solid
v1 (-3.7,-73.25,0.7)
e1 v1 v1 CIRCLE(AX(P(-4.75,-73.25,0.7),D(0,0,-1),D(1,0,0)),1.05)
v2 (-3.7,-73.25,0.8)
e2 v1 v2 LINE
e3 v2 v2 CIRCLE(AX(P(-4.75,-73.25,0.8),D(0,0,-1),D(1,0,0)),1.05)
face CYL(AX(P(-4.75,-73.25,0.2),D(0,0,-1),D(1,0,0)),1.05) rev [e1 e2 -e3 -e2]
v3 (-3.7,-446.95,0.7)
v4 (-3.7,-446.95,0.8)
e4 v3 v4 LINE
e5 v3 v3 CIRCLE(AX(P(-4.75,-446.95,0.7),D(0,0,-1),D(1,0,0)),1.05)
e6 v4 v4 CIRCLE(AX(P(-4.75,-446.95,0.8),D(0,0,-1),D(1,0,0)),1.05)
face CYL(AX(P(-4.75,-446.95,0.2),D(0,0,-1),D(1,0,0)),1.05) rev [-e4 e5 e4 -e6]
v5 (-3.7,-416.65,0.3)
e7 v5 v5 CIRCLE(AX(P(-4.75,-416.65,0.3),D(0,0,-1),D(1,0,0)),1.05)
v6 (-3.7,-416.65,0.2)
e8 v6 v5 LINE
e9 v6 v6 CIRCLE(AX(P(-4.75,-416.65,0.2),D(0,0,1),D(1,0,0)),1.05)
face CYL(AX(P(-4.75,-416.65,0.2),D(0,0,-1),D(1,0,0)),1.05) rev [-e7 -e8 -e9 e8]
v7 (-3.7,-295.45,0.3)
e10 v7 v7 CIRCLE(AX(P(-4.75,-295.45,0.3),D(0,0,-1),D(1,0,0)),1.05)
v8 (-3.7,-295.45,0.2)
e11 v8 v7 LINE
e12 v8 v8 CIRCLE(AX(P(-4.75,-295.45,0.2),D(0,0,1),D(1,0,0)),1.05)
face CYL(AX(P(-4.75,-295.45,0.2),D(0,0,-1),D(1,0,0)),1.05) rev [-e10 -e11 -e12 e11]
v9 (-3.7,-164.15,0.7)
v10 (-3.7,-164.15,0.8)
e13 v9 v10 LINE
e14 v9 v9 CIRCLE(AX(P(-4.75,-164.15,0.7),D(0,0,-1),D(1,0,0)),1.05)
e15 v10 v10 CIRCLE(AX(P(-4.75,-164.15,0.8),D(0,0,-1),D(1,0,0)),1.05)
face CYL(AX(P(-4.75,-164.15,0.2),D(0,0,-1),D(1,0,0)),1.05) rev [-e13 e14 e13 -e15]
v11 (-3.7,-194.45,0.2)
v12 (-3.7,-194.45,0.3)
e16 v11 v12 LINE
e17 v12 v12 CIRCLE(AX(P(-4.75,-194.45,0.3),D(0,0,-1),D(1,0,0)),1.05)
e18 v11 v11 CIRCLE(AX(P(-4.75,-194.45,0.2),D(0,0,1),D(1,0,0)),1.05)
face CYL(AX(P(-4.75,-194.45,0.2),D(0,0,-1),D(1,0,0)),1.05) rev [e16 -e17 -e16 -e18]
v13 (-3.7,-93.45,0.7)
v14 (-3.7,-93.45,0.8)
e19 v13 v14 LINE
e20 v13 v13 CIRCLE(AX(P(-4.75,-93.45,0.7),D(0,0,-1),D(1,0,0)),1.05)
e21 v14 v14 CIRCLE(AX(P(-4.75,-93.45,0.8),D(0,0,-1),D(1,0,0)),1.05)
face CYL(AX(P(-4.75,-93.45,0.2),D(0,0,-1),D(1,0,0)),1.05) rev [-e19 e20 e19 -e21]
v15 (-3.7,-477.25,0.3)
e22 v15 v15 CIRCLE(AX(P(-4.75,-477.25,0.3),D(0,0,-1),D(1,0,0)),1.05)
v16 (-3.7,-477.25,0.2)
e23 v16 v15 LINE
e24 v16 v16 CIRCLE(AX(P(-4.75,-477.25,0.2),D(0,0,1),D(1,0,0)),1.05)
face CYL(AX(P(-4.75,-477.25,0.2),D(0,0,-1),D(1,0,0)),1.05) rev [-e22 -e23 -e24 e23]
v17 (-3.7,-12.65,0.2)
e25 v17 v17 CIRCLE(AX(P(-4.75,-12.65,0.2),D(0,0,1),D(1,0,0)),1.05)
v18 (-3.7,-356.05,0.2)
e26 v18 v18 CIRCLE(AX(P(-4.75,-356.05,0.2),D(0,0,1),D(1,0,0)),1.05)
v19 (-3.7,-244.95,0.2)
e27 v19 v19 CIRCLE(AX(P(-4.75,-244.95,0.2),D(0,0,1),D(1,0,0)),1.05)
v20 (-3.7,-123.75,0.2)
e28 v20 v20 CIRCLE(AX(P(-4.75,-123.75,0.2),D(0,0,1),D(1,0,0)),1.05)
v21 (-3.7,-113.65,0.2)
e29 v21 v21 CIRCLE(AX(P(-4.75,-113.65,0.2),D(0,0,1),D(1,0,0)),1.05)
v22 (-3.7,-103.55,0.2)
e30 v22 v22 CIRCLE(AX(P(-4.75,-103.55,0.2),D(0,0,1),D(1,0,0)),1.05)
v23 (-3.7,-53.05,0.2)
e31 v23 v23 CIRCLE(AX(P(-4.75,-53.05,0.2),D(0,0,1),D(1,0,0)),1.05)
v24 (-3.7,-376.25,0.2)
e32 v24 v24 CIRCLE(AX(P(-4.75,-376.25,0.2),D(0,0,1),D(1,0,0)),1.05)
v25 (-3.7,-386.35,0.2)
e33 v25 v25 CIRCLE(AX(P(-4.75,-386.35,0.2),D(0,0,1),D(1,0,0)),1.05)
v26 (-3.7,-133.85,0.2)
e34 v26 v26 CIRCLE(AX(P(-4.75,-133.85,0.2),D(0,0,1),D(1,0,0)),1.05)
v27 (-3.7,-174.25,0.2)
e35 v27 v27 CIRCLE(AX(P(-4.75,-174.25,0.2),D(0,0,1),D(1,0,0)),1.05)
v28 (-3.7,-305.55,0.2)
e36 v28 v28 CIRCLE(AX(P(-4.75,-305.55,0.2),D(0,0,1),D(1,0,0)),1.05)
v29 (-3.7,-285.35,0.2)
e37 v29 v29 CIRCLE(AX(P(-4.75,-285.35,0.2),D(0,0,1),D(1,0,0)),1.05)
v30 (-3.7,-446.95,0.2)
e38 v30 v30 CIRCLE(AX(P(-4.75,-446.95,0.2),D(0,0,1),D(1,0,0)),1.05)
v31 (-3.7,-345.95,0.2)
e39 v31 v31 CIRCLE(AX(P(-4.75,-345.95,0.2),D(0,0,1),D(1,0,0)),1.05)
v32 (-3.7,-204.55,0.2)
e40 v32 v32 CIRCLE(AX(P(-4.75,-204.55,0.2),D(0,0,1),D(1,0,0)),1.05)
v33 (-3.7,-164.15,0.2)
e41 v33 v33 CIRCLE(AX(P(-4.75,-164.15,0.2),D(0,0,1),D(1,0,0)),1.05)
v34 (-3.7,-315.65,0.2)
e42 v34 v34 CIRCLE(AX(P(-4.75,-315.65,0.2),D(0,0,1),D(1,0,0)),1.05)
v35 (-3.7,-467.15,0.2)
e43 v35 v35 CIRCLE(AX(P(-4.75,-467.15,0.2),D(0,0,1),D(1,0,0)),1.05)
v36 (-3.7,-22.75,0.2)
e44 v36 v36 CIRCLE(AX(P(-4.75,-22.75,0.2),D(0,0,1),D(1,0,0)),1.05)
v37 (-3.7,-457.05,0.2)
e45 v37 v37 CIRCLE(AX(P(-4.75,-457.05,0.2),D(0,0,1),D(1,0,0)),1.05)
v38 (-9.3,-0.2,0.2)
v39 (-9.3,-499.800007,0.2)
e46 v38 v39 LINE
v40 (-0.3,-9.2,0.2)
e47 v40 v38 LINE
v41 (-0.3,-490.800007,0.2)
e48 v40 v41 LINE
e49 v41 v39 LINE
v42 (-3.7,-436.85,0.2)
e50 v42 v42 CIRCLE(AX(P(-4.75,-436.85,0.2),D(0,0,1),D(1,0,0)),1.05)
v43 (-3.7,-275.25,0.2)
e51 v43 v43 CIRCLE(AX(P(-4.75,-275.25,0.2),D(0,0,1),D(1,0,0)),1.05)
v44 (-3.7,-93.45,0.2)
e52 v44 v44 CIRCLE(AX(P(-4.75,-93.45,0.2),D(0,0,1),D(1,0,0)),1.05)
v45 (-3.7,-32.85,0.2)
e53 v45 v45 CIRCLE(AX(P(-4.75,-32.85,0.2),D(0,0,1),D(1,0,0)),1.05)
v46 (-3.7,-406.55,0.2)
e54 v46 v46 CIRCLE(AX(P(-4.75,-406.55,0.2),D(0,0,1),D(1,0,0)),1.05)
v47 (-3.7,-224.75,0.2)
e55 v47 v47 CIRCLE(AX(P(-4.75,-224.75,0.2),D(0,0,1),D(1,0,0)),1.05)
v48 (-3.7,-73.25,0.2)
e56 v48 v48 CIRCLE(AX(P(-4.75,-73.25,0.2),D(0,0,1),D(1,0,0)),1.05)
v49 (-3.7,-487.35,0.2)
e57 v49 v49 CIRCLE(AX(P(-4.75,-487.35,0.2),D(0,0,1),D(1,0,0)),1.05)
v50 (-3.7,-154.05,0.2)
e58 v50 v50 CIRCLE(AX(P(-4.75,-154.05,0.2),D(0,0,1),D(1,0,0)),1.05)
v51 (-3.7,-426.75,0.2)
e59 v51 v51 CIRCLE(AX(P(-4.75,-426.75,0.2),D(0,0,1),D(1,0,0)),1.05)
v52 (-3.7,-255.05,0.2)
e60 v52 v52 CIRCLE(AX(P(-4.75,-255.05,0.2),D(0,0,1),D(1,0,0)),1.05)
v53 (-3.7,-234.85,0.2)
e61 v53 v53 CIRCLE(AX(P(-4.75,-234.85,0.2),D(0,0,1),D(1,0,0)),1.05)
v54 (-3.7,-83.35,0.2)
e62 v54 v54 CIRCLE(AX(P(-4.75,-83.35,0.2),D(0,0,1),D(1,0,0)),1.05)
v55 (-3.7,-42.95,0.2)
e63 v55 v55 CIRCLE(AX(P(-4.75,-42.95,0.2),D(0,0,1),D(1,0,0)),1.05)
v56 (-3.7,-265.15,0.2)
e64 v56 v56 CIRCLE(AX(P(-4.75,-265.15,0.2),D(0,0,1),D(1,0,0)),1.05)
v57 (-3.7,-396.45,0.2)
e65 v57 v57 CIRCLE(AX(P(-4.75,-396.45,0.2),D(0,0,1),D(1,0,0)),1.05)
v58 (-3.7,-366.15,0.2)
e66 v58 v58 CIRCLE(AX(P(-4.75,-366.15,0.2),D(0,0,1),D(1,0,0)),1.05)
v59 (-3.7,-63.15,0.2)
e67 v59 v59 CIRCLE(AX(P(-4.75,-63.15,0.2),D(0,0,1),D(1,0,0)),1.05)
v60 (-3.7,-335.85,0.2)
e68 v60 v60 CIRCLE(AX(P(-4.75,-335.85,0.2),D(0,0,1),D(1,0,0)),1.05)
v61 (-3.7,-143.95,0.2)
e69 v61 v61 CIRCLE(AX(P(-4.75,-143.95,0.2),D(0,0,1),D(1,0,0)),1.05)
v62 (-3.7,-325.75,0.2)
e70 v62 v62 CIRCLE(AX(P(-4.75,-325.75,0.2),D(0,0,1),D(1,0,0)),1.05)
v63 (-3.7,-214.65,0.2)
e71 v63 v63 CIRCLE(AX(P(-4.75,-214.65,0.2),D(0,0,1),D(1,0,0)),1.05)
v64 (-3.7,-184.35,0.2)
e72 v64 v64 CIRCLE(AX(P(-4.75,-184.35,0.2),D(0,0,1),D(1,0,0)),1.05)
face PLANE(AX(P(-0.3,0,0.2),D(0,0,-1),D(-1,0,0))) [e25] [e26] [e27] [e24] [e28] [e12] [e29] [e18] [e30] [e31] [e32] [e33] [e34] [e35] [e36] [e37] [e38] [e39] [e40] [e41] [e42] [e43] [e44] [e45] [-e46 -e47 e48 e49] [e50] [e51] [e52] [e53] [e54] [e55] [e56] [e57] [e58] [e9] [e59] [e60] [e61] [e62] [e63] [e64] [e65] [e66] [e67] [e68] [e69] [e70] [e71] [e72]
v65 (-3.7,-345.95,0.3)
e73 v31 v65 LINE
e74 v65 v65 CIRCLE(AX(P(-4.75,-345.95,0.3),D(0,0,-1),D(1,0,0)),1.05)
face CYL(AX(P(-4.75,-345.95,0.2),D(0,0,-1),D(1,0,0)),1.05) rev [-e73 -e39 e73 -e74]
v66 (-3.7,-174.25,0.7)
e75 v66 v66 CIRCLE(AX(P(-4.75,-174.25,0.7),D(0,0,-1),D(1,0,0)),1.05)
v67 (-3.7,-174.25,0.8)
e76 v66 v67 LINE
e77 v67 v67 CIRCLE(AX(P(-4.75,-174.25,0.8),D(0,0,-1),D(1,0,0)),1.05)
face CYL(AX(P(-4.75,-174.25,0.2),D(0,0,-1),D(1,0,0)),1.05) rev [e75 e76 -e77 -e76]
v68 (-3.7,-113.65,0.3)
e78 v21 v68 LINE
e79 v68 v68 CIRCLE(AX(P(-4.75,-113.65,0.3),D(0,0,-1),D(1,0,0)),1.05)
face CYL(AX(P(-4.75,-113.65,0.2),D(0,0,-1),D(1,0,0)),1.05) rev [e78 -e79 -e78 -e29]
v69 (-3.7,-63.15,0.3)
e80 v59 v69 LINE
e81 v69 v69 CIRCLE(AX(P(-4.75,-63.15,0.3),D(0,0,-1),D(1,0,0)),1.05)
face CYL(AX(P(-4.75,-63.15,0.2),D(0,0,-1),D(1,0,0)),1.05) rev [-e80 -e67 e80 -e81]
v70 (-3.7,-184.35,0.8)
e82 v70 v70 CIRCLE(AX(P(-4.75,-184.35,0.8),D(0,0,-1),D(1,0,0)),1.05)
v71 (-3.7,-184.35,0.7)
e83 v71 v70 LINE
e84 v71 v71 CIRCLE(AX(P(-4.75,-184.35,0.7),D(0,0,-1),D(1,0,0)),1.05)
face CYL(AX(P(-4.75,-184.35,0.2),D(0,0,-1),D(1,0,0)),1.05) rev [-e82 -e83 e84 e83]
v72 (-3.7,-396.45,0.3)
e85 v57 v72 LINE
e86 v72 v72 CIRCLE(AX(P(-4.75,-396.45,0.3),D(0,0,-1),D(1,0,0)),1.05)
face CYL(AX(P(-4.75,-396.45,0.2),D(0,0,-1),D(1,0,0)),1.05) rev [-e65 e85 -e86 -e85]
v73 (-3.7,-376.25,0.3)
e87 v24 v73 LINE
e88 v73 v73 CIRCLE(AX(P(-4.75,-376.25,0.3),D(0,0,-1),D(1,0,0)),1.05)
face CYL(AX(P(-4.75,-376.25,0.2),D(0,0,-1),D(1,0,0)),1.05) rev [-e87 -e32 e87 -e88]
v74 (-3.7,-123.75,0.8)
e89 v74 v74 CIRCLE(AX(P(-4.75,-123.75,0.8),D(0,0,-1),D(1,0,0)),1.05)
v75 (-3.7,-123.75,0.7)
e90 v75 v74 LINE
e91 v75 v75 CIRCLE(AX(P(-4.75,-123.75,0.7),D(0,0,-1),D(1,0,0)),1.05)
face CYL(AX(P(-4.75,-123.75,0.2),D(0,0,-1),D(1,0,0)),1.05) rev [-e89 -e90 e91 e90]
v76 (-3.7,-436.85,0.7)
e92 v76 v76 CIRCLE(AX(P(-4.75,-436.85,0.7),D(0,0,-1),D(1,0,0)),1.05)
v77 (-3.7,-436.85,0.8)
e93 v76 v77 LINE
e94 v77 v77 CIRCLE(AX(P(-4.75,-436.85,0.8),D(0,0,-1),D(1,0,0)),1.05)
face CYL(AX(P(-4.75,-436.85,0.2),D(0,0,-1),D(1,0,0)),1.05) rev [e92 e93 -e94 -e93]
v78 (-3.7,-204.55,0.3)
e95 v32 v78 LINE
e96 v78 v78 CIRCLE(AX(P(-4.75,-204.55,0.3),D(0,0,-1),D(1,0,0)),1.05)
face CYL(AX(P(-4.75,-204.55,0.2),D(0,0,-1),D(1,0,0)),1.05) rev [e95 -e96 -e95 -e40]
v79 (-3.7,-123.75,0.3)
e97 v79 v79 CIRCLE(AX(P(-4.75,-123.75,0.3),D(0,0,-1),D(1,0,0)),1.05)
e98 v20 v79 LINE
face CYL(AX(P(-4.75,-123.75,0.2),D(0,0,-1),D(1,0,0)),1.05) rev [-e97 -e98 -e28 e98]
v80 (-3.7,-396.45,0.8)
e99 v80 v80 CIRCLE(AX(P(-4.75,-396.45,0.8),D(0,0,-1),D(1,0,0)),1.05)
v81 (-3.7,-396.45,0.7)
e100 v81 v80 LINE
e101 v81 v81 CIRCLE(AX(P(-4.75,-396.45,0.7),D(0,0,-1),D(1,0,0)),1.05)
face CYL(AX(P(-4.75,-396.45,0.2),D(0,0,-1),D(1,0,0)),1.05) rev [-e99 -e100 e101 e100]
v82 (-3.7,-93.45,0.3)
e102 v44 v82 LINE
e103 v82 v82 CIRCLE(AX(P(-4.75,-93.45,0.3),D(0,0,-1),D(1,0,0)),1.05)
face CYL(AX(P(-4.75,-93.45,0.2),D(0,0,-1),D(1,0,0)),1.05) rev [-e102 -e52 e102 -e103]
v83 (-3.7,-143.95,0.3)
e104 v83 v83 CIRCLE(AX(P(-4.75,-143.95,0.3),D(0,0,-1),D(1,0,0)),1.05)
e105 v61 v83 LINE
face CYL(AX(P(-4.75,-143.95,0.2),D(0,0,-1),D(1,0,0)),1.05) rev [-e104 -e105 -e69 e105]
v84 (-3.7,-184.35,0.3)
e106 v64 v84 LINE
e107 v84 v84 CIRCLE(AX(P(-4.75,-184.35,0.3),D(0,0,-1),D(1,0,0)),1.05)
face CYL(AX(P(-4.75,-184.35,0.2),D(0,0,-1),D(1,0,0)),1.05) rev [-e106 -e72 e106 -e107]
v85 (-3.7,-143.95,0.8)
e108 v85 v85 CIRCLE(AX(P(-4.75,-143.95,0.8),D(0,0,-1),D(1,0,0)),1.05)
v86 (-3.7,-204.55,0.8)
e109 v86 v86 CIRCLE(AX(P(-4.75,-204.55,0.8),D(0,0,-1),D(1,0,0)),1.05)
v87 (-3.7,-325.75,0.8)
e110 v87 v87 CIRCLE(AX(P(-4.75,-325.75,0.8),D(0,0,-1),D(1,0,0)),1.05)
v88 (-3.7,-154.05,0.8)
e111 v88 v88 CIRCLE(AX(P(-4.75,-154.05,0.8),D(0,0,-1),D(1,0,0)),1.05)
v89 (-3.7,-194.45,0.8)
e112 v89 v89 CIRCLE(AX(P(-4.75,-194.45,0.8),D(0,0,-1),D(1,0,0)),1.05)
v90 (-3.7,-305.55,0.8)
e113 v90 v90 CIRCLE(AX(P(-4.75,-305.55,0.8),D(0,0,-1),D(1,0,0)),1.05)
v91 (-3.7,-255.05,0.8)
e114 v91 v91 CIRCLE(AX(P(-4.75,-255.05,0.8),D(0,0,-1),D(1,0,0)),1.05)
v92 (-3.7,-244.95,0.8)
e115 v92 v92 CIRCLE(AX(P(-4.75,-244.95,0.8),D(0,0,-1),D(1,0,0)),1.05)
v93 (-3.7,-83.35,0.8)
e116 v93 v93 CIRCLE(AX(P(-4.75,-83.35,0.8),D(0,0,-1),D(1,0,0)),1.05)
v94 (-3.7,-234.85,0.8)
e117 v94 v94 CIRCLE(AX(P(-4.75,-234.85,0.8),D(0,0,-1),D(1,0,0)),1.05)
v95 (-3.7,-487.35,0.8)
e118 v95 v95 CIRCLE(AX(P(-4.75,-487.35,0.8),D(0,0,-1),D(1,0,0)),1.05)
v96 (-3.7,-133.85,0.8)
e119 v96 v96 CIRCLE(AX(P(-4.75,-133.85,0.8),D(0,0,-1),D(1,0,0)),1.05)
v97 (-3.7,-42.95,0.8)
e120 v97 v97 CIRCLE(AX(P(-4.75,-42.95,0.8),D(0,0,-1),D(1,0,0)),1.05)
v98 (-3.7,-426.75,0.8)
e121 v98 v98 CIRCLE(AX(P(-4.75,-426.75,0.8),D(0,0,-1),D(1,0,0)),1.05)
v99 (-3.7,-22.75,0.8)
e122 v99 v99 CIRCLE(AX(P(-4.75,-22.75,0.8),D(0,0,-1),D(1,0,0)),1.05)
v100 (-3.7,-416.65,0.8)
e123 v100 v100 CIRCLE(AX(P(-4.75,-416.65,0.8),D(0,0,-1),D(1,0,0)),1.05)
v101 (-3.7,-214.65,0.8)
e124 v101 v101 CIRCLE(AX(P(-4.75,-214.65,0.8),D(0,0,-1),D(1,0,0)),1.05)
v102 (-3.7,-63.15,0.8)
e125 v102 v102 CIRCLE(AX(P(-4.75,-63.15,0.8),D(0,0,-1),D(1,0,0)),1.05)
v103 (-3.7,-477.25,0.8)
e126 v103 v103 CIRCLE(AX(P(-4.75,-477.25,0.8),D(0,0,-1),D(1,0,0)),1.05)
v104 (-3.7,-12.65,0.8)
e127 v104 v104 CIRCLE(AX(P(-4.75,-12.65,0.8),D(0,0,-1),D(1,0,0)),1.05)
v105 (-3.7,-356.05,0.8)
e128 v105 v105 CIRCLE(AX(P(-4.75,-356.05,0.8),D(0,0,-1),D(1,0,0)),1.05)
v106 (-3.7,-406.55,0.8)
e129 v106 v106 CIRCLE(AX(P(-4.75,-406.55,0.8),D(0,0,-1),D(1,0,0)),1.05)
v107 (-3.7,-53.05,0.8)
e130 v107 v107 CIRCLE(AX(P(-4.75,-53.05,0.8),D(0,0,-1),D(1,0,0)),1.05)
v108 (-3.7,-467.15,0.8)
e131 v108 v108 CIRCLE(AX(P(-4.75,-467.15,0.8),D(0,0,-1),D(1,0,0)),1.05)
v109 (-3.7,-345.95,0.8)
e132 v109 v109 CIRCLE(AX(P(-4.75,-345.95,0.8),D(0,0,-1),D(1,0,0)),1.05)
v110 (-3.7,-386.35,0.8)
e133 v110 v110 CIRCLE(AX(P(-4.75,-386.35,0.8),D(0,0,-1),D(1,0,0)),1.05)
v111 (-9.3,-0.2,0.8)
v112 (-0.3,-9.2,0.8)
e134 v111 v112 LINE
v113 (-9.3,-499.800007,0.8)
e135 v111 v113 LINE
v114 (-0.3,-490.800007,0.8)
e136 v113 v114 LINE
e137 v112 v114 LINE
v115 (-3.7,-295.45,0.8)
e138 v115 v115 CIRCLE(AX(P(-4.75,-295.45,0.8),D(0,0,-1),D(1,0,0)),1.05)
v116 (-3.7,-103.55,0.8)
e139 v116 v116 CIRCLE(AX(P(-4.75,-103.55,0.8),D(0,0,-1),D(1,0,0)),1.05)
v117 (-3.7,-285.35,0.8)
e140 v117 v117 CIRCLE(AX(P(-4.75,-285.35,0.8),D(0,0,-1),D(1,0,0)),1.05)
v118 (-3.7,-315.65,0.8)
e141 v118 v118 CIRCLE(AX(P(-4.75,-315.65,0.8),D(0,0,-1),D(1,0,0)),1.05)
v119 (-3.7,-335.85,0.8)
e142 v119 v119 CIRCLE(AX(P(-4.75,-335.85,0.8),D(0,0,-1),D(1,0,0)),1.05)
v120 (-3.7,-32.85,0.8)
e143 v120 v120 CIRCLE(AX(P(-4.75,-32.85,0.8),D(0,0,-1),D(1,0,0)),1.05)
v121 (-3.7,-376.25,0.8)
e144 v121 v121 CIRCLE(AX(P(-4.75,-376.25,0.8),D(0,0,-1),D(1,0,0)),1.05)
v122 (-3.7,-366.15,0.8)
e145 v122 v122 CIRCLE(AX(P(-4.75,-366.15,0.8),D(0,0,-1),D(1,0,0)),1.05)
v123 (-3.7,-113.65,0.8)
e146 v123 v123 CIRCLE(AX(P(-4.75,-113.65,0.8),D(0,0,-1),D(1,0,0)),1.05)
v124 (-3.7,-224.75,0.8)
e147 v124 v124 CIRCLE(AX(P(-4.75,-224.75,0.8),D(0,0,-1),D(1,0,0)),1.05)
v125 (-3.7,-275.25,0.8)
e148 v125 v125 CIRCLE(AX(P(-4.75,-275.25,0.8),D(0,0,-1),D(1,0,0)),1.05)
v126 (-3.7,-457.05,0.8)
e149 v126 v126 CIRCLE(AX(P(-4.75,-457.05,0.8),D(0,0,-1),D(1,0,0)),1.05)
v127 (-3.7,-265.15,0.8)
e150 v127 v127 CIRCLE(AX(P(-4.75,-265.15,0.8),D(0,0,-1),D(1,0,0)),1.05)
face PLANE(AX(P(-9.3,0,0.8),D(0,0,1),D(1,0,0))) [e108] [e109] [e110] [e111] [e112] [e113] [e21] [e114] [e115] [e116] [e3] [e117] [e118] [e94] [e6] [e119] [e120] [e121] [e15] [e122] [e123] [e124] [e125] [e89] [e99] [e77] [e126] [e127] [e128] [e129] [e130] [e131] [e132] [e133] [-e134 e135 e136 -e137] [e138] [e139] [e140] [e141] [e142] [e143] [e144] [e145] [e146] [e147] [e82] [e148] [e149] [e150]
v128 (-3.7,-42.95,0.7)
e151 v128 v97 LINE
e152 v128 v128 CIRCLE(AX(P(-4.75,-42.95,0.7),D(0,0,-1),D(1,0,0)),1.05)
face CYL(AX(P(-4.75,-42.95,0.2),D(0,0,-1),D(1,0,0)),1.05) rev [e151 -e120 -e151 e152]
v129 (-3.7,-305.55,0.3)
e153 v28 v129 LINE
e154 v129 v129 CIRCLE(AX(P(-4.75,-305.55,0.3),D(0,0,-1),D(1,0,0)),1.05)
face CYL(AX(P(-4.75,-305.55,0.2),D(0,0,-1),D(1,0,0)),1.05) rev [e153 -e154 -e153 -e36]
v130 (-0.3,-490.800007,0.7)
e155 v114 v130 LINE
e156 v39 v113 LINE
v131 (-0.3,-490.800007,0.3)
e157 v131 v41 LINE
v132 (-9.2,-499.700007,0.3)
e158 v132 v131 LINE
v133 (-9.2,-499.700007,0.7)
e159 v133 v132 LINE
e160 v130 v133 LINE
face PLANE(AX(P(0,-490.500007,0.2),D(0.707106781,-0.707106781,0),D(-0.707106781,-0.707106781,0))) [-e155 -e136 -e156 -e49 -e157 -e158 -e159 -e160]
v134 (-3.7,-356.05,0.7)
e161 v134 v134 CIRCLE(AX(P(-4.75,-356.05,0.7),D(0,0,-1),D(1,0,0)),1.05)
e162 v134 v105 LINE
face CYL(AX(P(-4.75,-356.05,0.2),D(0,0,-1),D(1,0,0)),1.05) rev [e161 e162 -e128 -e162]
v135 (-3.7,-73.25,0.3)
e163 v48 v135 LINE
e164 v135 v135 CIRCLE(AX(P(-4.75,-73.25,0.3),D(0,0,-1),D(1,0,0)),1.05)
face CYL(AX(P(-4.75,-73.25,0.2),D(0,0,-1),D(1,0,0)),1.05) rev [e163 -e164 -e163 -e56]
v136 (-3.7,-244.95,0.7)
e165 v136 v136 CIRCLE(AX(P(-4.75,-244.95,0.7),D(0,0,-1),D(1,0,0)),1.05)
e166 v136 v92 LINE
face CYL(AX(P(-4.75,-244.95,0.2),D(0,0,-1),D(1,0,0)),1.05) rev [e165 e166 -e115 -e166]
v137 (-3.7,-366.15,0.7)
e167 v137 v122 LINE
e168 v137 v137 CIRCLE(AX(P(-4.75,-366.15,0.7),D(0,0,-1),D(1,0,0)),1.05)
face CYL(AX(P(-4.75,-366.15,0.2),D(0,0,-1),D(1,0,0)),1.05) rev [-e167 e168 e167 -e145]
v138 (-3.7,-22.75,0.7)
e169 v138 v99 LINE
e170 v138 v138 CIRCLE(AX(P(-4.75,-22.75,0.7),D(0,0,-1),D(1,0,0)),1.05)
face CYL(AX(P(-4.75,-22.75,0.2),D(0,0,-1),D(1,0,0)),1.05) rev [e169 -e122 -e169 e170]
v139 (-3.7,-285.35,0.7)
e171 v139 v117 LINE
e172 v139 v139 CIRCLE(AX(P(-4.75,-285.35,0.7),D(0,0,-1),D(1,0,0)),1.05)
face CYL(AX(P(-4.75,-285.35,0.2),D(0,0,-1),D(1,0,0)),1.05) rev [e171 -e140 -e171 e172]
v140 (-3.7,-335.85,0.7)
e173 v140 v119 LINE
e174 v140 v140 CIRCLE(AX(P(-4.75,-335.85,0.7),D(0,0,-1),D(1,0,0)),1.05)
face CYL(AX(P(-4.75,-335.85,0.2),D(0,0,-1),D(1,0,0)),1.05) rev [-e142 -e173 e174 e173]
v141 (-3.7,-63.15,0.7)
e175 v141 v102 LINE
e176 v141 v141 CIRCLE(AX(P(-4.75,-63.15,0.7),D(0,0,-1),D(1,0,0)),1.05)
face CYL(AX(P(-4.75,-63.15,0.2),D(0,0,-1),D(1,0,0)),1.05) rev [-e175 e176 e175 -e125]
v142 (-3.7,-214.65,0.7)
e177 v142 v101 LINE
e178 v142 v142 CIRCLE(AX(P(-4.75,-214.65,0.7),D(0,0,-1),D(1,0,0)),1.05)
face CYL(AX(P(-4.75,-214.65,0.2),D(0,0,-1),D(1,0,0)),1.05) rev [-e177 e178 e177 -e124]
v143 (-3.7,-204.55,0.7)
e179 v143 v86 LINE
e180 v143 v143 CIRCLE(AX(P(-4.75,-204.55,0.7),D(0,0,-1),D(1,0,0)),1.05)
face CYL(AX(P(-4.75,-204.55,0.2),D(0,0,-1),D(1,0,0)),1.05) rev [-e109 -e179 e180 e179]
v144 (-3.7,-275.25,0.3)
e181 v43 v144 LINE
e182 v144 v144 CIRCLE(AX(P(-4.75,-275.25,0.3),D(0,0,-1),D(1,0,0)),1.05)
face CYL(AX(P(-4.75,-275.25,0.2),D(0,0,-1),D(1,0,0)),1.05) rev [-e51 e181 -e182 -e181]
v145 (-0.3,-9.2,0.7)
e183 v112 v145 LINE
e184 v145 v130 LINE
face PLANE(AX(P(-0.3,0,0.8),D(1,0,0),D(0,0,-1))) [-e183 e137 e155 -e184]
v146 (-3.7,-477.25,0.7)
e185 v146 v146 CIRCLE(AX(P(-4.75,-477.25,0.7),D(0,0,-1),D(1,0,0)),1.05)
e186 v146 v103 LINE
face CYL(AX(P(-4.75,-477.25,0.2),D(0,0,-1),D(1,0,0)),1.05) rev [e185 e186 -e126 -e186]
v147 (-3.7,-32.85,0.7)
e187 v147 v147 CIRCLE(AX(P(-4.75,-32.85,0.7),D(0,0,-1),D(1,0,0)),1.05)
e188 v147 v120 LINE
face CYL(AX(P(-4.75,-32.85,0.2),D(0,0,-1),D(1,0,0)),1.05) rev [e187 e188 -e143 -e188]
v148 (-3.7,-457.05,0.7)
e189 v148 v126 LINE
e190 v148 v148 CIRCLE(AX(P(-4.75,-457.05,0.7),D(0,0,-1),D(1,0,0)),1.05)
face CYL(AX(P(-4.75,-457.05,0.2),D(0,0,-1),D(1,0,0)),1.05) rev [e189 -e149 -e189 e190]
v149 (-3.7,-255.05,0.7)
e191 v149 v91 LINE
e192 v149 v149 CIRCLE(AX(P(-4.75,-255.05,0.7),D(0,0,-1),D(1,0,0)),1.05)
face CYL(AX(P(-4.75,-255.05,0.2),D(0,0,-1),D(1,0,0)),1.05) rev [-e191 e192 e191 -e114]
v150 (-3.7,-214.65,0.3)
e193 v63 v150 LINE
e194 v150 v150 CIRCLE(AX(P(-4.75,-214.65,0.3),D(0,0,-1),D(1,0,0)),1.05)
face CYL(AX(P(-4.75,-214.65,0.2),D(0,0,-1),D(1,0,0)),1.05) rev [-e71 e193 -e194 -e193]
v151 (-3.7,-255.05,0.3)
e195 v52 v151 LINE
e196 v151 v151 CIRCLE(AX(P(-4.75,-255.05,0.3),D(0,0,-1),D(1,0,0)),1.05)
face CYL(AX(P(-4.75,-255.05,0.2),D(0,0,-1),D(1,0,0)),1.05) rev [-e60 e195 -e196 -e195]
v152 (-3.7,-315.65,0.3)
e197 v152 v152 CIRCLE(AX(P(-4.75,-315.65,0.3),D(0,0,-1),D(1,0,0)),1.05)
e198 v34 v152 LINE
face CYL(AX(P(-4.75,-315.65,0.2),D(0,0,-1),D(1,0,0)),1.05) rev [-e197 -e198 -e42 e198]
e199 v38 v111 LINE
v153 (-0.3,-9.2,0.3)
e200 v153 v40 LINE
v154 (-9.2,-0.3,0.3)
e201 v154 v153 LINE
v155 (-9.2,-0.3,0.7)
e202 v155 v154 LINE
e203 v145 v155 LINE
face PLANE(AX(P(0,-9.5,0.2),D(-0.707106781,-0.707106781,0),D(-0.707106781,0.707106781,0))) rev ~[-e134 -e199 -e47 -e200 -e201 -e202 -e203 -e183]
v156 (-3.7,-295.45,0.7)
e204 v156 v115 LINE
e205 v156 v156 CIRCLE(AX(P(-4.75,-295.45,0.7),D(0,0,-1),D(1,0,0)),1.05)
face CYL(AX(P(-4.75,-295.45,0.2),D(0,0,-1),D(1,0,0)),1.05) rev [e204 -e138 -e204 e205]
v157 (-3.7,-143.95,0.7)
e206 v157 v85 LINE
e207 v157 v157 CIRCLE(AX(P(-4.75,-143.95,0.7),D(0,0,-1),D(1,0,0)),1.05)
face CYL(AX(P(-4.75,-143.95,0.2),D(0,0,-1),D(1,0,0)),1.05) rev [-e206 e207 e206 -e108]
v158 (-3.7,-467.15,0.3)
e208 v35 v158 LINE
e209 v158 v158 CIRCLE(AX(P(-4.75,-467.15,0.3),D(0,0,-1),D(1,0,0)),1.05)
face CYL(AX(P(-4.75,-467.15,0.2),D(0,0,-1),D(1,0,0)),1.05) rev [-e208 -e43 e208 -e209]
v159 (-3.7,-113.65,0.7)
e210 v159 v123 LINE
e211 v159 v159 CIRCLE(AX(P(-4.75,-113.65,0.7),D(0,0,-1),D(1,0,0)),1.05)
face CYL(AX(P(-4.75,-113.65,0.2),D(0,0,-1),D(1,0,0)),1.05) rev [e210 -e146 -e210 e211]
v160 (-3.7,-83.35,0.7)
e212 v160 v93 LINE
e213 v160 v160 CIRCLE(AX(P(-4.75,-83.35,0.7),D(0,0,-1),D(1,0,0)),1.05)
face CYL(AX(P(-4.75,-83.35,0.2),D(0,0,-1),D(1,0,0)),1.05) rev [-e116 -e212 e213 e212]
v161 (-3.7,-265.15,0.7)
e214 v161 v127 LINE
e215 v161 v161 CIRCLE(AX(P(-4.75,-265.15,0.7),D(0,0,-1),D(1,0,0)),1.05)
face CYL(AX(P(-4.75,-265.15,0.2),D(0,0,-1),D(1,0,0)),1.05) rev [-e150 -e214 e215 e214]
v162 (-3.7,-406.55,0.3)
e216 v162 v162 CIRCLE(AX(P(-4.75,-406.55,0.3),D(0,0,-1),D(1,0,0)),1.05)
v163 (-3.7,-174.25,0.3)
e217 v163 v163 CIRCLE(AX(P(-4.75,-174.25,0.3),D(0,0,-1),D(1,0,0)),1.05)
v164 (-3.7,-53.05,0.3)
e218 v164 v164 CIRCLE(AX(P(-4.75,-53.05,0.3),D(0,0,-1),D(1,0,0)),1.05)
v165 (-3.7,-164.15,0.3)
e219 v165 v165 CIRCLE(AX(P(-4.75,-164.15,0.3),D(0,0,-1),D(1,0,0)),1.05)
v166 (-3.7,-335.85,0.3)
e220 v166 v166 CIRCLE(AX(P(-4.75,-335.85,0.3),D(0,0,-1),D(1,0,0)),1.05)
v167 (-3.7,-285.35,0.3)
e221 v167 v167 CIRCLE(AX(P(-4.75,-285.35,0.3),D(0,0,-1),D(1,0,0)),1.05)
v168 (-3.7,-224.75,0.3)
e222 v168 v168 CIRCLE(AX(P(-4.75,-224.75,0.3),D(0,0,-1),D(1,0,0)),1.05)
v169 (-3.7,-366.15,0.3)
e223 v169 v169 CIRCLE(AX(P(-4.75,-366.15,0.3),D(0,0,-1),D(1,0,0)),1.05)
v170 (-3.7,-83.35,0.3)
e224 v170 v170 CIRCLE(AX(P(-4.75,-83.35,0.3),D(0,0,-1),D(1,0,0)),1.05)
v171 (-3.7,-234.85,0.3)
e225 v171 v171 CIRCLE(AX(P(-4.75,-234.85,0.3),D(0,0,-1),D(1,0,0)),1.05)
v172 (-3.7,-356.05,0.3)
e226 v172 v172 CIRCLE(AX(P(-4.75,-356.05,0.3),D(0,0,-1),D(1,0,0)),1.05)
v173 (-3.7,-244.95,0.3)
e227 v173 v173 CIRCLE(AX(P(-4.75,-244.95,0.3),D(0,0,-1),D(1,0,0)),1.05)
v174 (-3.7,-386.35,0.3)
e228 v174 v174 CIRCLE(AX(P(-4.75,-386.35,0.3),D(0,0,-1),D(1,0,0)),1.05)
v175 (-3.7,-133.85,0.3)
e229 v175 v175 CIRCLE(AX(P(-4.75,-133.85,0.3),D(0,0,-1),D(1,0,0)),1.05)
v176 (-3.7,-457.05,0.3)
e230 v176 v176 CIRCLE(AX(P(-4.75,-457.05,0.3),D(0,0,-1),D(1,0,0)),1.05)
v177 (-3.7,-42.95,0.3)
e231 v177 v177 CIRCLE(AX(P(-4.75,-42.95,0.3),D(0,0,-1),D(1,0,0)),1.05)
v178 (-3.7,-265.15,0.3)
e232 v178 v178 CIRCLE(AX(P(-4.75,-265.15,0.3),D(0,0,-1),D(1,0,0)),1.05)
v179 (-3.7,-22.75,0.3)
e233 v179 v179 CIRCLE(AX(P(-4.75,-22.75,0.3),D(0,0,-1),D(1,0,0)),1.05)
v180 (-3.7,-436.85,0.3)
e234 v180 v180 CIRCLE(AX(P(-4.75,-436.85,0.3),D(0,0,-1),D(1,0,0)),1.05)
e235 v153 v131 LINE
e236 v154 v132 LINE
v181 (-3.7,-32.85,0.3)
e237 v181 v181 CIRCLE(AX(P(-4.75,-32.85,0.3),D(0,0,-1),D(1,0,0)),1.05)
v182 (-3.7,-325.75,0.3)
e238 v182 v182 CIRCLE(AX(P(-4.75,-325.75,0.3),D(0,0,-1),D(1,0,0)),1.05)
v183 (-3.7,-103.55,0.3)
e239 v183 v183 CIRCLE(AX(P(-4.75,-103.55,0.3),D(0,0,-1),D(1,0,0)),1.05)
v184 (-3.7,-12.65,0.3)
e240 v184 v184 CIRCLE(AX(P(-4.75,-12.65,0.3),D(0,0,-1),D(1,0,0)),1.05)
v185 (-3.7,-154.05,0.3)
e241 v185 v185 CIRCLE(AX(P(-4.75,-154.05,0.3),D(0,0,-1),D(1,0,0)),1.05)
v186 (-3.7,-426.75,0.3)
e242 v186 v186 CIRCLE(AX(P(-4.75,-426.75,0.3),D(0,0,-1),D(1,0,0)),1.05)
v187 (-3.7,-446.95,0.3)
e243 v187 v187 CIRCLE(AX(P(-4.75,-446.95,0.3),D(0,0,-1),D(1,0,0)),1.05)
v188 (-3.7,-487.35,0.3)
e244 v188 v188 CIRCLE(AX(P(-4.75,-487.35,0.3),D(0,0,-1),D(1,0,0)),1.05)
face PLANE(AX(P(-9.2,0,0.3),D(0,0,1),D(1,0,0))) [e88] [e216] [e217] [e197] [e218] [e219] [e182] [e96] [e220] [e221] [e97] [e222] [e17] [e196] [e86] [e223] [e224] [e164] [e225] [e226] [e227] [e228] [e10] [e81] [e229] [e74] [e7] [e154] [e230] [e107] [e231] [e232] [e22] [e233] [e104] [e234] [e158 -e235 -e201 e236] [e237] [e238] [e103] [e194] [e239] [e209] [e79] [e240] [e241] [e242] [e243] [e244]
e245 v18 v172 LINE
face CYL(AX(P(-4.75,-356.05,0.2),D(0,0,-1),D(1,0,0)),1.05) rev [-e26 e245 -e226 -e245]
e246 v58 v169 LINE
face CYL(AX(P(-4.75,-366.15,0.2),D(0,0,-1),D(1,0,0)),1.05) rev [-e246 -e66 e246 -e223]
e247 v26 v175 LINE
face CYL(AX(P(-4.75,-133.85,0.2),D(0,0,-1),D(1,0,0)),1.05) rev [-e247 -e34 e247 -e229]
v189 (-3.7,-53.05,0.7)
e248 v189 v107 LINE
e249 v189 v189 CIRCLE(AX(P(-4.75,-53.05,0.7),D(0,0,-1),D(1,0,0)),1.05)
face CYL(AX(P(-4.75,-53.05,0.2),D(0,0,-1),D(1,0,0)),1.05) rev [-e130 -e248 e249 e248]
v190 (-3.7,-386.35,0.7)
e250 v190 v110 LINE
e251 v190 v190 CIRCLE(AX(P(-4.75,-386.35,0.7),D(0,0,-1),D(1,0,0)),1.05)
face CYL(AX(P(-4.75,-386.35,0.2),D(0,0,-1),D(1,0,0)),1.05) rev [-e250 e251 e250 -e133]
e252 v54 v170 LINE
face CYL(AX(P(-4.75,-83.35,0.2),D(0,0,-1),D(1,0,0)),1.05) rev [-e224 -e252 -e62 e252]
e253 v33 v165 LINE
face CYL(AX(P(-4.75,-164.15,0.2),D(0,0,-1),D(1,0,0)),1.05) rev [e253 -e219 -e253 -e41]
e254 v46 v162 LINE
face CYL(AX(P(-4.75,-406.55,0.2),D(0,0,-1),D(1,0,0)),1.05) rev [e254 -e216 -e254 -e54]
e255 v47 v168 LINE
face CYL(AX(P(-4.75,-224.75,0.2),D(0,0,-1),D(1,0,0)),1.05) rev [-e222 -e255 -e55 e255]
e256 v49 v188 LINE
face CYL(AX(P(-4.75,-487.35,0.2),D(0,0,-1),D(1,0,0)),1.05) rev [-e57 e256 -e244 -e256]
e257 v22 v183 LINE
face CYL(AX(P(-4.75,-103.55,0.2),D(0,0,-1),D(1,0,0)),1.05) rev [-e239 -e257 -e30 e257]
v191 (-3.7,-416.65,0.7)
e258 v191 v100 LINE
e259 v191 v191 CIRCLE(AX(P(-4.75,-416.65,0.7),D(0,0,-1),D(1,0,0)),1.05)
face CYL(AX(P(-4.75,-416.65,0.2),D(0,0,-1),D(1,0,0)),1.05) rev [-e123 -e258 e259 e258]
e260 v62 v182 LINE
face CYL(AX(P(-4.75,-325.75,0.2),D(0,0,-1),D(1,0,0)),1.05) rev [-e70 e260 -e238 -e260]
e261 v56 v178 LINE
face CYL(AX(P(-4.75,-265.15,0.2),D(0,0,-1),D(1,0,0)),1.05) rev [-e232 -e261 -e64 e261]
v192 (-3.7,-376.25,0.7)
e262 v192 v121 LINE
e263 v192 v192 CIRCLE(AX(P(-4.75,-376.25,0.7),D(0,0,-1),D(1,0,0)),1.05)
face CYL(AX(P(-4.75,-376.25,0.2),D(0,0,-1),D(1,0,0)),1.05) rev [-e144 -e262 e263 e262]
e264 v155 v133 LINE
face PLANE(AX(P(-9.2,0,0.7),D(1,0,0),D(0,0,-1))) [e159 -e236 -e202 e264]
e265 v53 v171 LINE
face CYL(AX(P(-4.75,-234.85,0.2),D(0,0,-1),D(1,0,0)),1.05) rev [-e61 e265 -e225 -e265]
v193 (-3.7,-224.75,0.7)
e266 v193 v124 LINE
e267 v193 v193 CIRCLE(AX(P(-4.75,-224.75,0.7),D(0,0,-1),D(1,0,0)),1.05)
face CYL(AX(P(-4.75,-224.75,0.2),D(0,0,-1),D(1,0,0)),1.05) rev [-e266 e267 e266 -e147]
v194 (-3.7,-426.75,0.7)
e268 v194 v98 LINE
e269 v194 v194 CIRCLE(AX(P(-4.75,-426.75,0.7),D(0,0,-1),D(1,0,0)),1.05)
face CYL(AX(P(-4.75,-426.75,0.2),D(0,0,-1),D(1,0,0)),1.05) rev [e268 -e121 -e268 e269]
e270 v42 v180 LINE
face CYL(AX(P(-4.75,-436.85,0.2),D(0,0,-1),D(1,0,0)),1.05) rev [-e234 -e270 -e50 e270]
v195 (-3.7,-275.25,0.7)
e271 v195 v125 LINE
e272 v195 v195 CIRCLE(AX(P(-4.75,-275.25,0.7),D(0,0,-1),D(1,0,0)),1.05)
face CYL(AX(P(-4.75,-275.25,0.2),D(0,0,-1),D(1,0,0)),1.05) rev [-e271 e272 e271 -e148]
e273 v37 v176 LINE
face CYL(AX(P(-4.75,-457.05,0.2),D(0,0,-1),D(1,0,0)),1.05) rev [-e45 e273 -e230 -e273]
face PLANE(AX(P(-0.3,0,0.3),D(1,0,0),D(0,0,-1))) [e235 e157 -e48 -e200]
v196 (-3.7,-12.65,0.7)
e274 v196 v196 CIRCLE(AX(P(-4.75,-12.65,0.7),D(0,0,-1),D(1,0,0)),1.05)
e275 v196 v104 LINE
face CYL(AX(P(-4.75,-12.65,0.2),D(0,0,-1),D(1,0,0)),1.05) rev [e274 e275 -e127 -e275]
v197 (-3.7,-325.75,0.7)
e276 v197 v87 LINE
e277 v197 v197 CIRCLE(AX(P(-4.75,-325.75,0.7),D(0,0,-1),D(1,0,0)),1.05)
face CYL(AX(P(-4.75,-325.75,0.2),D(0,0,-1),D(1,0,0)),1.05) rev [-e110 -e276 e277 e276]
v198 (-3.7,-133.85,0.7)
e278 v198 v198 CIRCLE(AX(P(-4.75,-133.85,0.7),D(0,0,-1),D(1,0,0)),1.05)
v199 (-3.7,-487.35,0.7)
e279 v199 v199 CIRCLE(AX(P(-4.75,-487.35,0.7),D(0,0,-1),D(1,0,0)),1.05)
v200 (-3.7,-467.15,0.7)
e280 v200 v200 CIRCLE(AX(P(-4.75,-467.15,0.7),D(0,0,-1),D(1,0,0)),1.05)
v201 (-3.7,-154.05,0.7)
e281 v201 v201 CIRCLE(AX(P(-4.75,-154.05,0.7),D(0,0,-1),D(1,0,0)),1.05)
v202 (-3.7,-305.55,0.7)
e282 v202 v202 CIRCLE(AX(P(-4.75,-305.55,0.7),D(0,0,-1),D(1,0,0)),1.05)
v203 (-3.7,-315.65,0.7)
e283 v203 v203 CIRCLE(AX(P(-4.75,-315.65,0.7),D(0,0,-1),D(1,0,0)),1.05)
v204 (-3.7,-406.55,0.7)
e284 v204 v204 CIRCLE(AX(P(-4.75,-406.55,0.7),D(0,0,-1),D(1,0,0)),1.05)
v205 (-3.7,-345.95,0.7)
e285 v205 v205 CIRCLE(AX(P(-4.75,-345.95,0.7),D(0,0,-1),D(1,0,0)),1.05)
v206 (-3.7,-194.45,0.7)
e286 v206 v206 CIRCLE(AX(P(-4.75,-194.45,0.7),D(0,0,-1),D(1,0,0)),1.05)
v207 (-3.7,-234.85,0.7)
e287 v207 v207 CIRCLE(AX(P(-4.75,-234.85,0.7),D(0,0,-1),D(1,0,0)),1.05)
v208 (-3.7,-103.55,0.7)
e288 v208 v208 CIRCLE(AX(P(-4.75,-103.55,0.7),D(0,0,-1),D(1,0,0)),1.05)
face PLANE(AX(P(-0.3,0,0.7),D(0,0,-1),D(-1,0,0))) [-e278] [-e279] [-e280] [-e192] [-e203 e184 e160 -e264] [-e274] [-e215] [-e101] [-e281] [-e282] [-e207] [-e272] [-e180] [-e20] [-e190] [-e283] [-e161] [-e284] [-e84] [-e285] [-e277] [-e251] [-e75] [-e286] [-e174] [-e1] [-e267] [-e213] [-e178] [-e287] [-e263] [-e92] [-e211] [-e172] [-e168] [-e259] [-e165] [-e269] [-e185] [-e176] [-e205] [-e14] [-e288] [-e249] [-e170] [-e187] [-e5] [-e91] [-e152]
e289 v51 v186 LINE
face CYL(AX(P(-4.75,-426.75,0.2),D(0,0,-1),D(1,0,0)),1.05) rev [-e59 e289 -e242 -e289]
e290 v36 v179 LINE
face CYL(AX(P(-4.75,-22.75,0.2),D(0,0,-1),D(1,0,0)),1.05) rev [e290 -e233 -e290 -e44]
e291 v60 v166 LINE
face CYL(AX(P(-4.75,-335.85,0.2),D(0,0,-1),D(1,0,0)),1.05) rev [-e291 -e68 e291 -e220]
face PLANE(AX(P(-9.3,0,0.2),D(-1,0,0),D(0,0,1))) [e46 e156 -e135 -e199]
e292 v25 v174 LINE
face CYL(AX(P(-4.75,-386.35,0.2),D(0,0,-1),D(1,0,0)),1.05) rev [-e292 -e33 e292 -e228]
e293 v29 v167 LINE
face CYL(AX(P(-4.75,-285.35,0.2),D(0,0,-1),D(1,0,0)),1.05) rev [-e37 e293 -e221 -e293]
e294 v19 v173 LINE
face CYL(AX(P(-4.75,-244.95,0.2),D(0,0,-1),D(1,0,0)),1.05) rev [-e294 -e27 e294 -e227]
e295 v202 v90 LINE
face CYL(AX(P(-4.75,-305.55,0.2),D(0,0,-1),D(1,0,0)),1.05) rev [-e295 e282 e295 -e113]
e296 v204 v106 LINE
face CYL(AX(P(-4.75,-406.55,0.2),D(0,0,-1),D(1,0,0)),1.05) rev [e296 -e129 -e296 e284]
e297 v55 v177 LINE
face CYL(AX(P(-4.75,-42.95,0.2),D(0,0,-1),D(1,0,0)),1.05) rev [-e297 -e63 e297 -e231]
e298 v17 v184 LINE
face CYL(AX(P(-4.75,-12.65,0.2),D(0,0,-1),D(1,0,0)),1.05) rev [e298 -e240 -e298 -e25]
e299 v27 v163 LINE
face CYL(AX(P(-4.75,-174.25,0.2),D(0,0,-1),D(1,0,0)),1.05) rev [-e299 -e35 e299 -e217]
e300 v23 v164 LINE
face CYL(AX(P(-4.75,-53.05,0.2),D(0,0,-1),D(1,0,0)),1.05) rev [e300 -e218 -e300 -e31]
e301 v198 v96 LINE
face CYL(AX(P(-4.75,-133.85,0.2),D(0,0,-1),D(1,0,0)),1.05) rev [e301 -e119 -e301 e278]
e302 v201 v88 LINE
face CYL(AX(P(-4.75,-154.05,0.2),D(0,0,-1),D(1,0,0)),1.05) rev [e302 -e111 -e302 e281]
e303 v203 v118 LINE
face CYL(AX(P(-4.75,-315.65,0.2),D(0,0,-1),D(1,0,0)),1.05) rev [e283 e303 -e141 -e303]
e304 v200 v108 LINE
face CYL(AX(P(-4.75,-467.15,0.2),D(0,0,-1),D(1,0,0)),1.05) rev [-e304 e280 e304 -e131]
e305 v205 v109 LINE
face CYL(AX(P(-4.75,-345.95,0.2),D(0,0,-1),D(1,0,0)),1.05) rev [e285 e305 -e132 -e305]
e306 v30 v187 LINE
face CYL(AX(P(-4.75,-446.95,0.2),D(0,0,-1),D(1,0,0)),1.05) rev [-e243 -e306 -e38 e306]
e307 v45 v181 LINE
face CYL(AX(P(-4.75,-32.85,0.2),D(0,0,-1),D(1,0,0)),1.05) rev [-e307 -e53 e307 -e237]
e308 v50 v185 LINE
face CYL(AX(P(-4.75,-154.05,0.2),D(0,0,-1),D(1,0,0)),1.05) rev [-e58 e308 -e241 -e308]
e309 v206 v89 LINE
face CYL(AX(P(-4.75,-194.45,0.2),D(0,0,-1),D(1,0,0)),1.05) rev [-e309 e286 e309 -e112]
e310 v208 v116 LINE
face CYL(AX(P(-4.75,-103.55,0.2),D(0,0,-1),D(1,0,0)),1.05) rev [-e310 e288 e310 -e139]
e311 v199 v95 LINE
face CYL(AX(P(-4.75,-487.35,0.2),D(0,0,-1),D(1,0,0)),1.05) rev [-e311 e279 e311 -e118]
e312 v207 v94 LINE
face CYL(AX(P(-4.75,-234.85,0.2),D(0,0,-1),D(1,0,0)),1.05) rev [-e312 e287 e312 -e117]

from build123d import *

# Parameters (mm, degrees)
PAD001_DEPTH            = 500
POCKET002_DEPTH         = 0.601
SKETCH010_R             = 1.05
POCKET003_DEPTH         = 0.601
BODY001_PLACEMENT_ANGLE = 90


with BuildPart() as part:
    # Sketch007 → Pad001 (new body)
    with BuildSketch(Plane.XZ.offset(-0.3)):
        Polygon((0.6, 9), (0.6, 0), (0.5, 0), (0.5, 8.9), (0.1, 8.9), (0.1, 0), (0, 0), (0, 9), align=None)
    extrude(amount=PAD001_DEPTH)

    # Sketch008 → Pocket002 (cut, through all)
    with BuildSketch(Plane.YZ):
        Polygon((-499.700007, 9.2), (-499.700007, -0.3), (-490.200007, -0.3), align=None)
        Polygon((0.3, -0.3), (-9.2, -0.3), (0.3, 9.2), align=None)
    extrude(amount=POCKET002_DEPTH, mode=Mode.SUBTRACT)

    # Sketch010 → Pocket003 (cut, through all)
    with BuildSketch(Plane(origin=(0, 0.3, -0.3), x_dir=(0, 0, -1), z_dir=(1, 0, 0))):
        with Locations((-4.75, -487.35)):
            Circle(SKETCH010_R)
        with Locations((-4.75, -477.25)):
            Circle(SKETCH010_R)
        with Locations((-4.75, -457.05)):
            Circle(SKETCH010_R)
        with Locations((-4.75, -467.15)):
            Circle(SKETCH010_R)
        with Locations((-4.75, -416.65)):
            Circle(SKETCH010_R)
        with Locations((-4.75, -426.75)):
            Circle(SKETCH010_R)
        with Locations((-4.75, -436.85)):
            Circle(SKETCH010_R)
        with Locations((-4.75, -446.95)):
            Circle(SKETCH010_R)
        with Locations((-4.75, -335.85)):
            Circle(SKETCH010_R)
        with Locations((-4.75, -345.95)):
            Circle(SKETCH010_R)
        with Locations((-4.75, -356.05)):
            Circle(SKETCH010_R)
        with Locations((-4.75, -366.15)):
            Circle(SKETCH010_R)
        with Locations((-4.75, -376.25)):
            Circle(SKETCH010_R)
        with Locations((-4.75, -386.35)):
            Circle(SKETCH010_R)
        with Locations((-4.75, -396.45)):
            Circle(SKETCH010_R)
        with Locations((-4.75, -406.55)):
            Circle(SKETCH010_R)
        with Locations((-4.75, -174.25)):
            Circle(SKETCH010_R)
        with Locations((-4.75, -184.35)):
            Circle(SKETCH010_R)
        with Locations((-4.75, -194.45)):
            Circle(SKETCH010_R)
        with Locations((-4.75, -204.55)):
            Circle(SKETCH010_R)
        with Locations((-4.75, -214.65)):
            Circle(SKETCH010_R)
        with Locations((-4.75, -224.75)):
            Circle(SKETCH010_R)
        with Locations((-4.75, -234.85)):
            Circle(SKETCH010_R)
        with Locations((-4.75, -244.95)):
            Circle(SKETCH010_R)
        with Locations((-4.75, -255.05)):
            Circle(SKETCH010_R)
        with Locations((-4.75, -265.15)):
            Circle(SKETCH010_R)
        with Locations((-4.75, -275.25)):
            Circle(SKETCH010_R)
        with Locations((-4.75, -285.35)):
            Circle(SKETCH010_R)
        with Locations((-4.75, -295.45)):
            Circle(SKETCH010_R)
        with Locations((-4.75, -305.55)):
            Circle(SKETCH010_R)
        with Locations((-4.75, -315.65)):
            Circle(SKETCH010_R)
        with Locations((-4.75, -325.75)):
            Circle(SKETCH010_R)
        with Locations((-4.75, -63.15)):
            Circle(SKETCH010_R)
        with Locations((-4.75, -73.25)):
            Circle(SKETCH010_R)
        with Locations((-4.75, -83.35)):
            Circle(SKETCH010_R)
        with Locations((-4.75, -93.45)):
            Circle(SKETCH010_R)
        with Locations((-4.75, -103.55)):
            Circle(SKETCH010_R)
        with Locations((-4.75, -113.65)):
            Circle(SKETCH010_R)
        with Locations((-4.75, -123.75)):
            Circle(SKETCH010_R)
        with Locations((-4.75, -133.85)):
            Circle(SKETCH010_R)
        with Locations((-4.75, -143.95)):
            Circle(SKETCH010_R)
        with Locations((-4.75, -154.05)):
            Circle(SKETCH010_R)
        with Locations((-4.75, -164.15)):
            Circle(SKETCH010_R)
        with Locations((-4.75, -12.65)):
            Circle(SKETCH010_R)
        with Locations((-4.75, -22.75)):
            Circle(SKETCH010_R)
        with Locations((-4.75, -32.85)):
            Circle(SKETCH010_R)
        with Locations((-4.75, -42.95)):
            Circle(SKETCH010_R)
        with Locations((-4.75, -53.05)):
            Circle(SKETCH010_R)
    extrude(amount=POCKET003_DEPTH, mode=Mode.SUBTRACT)


with BuildPart() as part_1:
    # Body001 placement: moved
    add(part.part.moved(Location((-0.3, -0.3, 0.2))).rotate(Axis((-0.3, -0.3, 0.2), (0, -1, 0)), BODY001_PLACEMENT_ANGLE))


solid = part_1.part
